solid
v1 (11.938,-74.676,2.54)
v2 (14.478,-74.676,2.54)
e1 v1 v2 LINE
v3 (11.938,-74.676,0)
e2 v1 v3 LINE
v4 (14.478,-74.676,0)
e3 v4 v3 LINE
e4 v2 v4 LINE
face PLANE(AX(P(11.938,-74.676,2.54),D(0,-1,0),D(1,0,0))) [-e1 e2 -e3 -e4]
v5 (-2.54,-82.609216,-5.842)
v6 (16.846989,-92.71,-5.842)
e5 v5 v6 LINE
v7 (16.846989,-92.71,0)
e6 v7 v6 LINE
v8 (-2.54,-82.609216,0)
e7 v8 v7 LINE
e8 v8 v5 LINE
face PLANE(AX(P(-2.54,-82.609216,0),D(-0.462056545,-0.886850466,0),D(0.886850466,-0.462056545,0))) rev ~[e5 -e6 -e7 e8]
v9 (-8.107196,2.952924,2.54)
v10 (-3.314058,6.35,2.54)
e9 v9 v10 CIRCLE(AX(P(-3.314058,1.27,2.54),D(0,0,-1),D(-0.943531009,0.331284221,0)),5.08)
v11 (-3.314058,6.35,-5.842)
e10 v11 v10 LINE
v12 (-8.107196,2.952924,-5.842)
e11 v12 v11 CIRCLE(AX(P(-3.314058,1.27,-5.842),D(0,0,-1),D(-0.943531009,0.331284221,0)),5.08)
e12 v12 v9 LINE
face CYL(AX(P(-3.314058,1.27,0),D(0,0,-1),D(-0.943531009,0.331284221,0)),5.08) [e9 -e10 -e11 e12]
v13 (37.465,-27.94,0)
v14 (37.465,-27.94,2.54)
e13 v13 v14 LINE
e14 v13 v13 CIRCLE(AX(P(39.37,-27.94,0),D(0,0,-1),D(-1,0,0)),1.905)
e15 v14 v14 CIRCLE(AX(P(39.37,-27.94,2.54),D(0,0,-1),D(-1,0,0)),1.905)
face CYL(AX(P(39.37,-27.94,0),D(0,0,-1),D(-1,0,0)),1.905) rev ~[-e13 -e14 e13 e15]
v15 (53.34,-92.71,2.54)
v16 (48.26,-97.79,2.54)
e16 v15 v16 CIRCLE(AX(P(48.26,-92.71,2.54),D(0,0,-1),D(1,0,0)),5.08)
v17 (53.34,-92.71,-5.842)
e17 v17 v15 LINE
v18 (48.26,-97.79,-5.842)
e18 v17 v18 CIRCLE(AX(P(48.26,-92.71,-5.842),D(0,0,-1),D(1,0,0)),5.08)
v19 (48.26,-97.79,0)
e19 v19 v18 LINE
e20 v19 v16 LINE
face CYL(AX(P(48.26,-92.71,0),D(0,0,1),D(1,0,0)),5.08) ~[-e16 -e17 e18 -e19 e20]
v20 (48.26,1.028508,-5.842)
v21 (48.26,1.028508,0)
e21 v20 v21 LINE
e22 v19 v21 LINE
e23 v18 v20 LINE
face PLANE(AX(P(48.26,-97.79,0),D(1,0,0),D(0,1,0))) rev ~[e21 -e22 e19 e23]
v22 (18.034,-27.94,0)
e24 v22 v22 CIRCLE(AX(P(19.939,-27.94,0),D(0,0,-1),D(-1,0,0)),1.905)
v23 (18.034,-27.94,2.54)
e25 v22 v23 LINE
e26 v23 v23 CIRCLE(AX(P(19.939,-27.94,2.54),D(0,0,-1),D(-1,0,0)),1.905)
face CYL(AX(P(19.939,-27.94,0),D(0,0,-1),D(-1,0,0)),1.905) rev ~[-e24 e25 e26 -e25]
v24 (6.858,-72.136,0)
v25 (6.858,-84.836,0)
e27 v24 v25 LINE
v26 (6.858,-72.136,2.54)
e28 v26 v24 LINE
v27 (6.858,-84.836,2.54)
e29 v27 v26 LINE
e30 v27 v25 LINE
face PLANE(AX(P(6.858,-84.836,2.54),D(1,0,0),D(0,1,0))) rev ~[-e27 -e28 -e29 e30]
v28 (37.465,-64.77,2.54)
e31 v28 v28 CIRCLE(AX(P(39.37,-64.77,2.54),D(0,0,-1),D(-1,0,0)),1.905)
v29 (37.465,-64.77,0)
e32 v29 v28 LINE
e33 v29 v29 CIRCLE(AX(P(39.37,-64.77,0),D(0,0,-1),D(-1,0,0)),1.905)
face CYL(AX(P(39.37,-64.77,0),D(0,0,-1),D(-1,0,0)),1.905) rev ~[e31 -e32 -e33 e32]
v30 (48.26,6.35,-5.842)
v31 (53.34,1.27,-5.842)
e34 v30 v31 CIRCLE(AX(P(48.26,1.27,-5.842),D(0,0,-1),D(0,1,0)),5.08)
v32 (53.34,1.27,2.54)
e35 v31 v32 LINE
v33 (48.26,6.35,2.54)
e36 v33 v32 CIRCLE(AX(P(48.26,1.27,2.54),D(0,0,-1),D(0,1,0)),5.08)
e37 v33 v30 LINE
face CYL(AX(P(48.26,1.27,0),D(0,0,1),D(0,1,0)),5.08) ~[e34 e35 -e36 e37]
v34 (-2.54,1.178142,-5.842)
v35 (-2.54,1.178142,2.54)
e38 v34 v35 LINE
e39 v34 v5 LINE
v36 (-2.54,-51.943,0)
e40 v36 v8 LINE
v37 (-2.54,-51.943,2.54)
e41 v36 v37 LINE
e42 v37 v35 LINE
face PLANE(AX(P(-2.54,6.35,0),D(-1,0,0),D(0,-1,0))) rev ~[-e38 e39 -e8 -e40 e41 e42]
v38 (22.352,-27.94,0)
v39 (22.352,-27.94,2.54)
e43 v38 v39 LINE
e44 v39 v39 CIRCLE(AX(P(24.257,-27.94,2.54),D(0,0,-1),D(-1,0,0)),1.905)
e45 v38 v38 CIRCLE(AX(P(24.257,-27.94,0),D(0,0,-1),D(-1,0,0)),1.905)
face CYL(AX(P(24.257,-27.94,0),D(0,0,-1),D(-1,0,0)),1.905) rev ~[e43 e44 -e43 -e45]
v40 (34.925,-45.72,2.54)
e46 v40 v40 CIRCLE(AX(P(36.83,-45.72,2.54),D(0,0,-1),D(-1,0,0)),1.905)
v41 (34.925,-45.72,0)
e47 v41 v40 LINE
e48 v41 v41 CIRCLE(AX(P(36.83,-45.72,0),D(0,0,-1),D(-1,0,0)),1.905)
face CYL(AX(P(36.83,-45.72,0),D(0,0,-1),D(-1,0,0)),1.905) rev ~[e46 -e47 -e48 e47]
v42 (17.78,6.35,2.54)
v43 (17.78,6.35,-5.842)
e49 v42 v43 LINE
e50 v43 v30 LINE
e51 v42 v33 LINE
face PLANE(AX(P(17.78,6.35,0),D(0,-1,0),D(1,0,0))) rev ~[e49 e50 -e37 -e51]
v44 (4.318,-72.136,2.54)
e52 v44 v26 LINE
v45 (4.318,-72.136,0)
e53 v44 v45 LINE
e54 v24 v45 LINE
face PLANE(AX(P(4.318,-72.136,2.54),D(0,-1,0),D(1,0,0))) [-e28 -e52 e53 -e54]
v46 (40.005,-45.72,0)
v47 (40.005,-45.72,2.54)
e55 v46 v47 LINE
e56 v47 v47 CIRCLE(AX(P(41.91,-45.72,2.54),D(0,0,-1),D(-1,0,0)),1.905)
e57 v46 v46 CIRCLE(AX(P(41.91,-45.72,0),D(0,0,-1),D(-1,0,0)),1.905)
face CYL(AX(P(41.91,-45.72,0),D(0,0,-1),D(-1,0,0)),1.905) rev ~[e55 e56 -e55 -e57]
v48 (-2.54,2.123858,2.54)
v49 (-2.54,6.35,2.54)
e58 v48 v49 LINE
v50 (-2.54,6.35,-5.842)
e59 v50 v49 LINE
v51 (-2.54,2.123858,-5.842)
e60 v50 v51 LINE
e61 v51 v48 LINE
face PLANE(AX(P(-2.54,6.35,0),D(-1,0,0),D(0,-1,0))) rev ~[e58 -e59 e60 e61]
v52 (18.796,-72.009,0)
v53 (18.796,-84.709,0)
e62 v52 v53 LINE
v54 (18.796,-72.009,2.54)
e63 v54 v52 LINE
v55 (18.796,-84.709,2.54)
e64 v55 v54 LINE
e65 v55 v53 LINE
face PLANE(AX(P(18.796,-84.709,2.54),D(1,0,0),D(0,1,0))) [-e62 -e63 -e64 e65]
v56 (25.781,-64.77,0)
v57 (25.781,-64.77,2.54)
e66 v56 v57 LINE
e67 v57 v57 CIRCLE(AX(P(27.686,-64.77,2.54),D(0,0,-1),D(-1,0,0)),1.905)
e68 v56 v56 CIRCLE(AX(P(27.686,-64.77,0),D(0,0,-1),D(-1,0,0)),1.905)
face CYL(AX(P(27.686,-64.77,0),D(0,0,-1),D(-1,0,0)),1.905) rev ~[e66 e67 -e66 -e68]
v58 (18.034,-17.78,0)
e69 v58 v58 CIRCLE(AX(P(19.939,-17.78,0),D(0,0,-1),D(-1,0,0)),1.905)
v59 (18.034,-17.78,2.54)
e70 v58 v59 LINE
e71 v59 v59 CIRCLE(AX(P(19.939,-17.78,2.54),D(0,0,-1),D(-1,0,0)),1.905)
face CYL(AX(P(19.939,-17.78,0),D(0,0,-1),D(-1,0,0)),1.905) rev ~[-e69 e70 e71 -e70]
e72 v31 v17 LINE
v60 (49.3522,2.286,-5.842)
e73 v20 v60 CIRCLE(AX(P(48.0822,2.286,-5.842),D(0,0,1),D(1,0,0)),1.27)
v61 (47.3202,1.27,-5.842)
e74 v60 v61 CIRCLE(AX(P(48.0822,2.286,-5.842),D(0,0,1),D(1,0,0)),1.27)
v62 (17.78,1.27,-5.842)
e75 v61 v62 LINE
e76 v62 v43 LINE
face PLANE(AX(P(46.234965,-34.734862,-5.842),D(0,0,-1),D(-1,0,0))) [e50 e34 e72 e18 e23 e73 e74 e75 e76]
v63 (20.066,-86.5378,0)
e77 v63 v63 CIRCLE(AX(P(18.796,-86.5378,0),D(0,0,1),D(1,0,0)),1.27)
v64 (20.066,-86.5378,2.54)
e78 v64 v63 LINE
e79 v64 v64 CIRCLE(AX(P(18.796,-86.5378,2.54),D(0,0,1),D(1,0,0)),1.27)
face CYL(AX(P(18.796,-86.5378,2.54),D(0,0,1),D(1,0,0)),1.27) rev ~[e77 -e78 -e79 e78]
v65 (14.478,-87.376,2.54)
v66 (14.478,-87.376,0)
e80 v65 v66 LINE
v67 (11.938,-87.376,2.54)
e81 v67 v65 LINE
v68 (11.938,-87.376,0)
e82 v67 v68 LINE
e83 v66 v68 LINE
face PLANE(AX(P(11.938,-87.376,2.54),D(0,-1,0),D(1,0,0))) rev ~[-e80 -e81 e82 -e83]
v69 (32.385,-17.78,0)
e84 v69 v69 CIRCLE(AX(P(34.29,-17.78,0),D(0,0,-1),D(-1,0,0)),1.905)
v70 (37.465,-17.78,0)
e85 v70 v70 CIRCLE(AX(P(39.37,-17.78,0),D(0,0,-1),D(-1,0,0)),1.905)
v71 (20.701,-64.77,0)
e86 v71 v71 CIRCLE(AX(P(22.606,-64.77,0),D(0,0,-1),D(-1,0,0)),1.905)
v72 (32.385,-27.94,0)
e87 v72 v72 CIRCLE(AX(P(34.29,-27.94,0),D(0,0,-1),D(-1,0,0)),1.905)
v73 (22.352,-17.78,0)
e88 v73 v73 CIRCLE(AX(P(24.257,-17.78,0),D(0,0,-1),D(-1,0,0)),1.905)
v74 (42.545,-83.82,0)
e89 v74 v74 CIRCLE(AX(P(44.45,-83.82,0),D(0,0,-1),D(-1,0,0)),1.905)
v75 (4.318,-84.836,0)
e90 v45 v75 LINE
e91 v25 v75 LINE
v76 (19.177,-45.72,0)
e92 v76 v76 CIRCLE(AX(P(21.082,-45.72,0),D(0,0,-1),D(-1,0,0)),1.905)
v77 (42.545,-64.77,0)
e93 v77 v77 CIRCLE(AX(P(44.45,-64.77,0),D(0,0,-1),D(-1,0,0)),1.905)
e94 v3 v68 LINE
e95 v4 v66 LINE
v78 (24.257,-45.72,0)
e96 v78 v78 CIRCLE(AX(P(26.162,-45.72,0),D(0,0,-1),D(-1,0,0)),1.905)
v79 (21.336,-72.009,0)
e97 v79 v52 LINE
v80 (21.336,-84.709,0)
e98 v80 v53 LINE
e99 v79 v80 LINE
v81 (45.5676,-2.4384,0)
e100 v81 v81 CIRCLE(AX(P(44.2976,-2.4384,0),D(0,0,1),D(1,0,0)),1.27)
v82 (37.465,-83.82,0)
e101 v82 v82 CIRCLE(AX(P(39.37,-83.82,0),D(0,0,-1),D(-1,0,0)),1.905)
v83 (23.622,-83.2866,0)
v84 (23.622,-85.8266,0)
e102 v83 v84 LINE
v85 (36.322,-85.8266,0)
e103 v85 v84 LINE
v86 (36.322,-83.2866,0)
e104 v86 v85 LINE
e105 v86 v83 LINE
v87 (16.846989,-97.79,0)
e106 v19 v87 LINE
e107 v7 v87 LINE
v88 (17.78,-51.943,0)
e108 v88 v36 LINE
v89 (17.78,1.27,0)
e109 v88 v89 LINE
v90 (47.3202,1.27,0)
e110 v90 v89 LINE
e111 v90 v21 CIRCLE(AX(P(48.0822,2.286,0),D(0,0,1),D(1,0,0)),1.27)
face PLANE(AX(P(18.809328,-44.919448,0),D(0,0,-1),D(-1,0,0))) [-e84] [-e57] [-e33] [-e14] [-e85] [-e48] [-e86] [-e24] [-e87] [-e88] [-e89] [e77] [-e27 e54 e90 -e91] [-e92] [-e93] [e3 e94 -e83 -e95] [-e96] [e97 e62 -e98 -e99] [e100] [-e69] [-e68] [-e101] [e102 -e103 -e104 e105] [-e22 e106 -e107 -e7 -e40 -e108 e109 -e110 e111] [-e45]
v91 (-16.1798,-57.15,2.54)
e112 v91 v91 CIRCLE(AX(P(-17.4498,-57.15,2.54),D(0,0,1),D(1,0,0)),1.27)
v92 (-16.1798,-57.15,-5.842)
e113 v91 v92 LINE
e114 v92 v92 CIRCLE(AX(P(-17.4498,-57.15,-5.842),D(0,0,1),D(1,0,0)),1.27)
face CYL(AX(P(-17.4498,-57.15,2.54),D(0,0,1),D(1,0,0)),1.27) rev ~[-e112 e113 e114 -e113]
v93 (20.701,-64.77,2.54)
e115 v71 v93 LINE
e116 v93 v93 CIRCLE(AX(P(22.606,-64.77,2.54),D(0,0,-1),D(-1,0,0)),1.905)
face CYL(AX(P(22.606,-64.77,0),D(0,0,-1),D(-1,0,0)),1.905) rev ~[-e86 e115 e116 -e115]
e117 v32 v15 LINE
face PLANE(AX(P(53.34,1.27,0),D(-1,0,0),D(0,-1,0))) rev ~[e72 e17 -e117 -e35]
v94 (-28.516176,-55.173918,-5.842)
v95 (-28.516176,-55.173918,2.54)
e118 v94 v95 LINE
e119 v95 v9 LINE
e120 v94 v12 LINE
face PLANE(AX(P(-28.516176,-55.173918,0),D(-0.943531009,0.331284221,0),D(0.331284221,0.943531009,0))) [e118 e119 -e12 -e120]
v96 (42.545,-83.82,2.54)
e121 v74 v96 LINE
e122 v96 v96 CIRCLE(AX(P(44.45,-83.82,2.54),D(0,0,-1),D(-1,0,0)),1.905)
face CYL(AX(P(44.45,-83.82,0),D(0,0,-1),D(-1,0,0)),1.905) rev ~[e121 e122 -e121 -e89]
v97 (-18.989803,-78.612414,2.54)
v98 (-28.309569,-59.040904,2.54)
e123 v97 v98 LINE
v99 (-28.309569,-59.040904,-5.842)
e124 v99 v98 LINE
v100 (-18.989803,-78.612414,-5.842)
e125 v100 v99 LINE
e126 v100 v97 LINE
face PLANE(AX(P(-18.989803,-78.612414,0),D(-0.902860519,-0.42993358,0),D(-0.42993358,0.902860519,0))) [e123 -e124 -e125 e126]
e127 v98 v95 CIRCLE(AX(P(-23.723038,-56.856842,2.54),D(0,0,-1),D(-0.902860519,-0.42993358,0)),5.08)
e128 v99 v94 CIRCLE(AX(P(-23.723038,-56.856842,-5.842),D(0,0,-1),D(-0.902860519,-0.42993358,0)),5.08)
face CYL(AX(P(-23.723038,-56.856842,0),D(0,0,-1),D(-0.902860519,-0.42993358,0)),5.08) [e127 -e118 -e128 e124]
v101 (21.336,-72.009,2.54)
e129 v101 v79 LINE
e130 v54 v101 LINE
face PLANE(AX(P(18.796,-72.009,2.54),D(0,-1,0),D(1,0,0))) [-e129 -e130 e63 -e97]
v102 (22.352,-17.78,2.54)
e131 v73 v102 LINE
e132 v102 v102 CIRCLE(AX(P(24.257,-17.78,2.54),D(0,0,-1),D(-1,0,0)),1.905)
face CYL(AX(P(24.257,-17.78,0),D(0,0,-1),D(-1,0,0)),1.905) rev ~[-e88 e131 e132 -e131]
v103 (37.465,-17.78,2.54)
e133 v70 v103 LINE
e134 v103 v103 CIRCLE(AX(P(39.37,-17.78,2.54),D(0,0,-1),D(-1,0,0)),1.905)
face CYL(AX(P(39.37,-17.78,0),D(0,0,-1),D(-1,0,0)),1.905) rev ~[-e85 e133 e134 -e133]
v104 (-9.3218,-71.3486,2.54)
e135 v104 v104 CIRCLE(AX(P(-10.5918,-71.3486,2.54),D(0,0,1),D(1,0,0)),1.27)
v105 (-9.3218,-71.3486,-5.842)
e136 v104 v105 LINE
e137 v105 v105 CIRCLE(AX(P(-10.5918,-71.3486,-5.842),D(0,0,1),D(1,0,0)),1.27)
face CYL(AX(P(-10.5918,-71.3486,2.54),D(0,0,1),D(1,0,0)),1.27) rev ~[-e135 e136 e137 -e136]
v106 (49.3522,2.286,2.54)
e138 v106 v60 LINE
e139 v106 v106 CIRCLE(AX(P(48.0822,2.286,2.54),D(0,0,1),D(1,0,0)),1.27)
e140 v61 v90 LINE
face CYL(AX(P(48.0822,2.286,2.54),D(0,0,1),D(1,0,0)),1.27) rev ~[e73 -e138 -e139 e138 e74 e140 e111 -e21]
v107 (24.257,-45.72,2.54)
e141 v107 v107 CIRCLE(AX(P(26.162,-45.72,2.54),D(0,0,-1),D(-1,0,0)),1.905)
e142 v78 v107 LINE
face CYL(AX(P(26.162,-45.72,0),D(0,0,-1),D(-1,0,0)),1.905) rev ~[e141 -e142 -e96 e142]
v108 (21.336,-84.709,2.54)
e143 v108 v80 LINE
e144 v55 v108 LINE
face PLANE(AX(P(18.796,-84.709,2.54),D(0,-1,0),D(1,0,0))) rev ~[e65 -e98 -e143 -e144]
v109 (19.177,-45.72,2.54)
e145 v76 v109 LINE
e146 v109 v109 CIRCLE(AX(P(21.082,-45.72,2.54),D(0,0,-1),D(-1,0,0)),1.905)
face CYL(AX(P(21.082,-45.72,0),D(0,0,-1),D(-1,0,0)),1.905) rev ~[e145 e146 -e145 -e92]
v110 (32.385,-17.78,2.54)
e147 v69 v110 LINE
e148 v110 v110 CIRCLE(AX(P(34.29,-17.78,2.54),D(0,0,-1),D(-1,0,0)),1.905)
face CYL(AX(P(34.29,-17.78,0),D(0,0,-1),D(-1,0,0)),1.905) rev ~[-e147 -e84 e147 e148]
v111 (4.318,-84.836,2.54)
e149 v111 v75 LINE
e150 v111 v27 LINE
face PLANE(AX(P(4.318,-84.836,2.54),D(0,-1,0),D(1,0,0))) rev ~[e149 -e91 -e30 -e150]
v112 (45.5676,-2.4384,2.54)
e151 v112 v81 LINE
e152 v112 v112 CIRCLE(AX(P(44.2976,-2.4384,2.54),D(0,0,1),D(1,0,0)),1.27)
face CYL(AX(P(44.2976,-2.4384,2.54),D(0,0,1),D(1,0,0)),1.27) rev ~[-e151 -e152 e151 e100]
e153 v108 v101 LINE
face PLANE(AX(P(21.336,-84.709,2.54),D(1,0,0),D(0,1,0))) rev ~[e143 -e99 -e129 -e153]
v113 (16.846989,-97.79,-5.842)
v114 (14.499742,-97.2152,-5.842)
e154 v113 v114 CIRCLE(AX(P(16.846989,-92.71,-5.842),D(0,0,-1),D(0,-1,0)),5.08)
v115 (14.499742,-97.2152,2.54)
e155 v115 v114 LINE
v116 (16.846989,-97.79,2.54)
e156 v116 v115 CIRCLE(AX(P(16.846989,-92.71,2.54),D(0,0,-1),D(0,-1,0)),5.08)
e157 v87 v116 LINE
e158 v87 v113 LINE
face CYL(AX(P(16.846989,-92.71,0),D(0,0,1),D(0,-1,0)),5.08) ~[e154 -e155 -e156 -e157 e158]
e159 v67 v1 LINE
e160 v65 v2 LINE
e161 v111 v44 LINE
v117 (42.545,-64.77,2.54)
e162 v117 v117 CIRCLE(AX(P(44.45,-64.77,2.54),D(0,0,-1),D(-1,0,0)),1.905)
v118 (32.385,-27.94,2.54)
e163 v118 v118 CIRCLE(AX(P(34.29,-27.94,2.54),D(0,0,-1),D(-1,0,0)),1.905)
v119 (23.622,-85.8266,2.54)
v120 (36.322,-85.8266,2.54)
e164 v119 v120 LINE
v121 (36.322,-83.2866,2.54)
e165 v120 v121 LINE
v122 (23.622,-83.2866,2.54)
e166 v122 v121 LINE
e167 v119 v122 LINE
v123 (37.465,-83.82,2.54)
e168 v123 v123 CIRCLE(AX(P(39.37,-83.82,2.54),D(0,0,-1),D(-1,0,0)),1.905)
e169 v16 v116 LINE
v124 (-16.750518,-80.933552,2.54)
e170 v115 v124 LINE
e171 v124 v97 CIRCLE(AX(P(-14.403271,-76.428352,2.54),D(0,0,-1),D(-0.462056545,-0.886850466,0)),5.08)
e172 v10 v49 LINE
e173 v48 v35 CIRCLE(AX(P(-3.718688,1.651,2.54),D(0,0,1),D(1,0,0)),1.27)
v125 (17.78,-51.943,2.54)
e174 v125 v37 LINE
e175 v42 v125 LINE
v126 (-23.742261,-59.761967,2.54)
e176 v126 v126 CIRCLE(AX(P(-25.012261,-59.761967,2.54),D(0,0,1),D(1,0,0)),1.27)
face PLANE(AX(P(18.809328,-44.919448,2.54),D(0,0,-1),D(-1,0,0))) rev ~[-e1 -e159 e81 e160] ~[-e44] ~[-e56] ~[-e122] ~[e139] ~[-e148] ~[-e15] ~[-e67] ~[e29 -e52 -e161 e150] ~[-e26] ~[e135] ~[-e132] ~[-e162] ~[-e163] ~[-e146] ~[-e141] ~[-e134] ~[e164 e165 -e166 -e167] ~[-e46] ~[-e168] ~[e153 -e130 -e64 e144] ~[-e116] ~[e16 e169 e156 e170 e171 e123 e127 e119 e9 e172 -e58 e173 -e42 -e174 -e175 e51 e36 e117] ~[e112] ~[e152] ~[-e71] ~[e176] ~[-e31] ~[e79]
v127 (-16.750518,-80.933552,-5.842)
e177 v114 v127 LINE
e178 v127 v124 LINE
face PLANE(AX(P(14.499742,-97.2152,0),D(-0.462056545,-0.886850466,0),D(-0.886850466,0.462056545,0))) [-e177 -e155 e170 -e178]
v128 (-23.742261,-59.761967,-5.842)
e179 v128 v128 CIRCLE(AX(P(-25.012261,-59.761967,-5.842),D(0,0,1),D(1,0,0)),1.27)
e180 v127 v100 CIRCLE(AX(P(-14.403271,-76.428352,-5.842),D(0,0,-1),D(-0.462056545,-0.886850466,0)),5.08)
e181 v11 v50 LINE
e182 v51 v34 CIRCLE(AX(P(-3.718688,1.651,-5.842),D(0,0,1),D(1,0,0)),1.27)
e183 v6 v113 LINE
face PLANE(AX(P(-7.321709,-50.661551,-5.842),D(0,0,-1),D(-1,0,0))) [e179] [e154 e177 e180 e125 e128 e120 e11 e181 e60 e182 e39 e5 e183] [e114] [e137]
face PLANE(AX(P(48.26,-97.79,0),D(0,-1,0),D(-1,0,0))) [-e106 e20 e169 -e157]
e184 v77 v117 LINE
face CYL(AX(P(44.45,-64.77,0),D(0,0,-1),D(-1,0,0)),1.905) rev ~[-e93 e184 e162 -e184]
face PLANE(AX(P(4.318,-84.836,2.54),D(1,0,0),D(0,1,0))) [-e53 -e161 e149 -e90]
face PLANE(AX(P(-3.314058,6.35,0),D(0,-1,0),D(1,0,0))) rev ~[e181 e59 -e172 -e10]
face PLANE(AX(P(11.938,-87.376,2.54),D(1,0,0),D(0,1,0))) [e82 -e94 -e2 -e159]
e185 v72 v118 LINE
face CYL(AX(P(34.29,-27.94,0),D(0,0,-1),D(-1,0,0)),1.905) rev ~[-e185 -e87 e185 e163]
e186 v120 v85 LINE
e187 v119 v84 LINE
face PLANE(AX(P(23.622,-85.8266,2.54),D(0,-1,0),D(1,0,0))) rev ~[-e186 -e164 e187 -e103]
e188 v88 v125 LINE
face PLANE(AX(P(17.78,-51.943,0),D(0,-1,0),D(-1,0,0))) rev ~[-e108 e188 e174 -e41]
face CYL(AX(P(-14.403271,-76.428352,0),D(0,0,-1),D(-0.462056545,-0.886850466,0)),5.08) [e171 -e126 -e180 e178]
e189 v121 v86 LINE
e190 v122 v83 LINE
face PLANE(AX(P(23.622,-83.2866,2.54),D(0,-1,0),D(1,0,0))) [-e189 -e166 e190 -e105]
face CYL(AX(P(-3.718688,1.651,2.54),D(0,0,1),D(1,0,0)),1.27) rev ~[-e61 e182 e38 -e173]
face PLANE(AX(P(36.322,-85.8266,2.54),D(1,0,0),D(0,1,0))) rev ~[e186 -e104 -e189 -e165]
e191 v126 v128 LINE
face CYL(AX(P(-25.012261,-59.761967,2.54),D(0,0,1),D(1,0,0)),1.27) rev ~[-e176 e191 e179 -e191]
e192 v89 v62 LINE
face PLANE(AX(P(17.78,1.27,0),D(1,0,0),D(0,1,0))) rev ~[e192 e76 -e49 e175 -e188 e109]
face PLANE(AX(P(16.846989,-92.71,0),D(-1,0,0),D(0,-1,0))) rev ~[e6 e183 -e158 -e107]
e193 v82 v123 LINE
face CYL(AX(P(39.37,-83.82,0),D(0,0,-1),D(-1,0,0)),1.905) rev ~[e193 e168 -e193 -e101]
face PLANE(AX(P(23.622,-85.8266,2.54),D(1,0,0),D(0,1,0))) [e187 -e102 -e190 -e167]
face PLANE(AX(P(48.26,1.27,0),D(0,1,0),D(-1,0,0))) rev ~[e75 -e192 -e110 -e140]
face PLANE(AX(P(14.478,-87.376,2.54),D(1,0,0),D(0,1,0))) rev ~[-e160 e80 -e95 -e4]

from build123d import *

# Parameters (mm, degrees)
BOSS_EXTRUDE1_DEPTH     = 2.54
SKETCH4_R               = 1.905
SKETCH4_W               = 20.32
SKETCH4_H               = 50.8
CUT_EXTRUDE2_DEPTH      = 25.4
SKETCH5_W               = 20.32
SKETCH5_H               = 7.493
CUT_EXTRUDE3_DEPTH      = 5.08
SKETCH8_W               = 12.7
SKETCH8_H               = 2.54
SKETCH8_W_2             = 2.54
SKETCH8_H_2             = 12.7
CUT_EXTRUDE5_DEPTH      = 5.08
BOSS_EXTRUDE2_DEPTH     = 5.842
SKETCH10_R              = 1.27
CUT_EXTRUDE6_DEPTH      = 1
CUT_EXTRUDE6_DEPTH_BACK = 9.382
SKETCH6_R               = 1.27
CUT_EXTRUDE7_DEPTH      = 1
CUT_EXTRUDE7_DEPTH_BACK = 9.382


with BuildPart() as part:
    # Sketch1 → Boss-Extrude1 (new body)
    with BuildSketch(Plane.XY):
        with BuildLine():
            Line((-3.314058103, 6.35), (48.26, 6.35))
            ThreePointArc((48.26, 6.35), (51.852102448, 4.862102448), (53.34, 1.27))
            Line((53.34, 1.27), (53.34, -92.71))
            ThreePointArc((53.34, -92.71), (51.852102448, -96.302102448), (48.26, -97.79))
            Line((48.26, -97.79), (16.846989059, -97.79))
            ThreePointArc((16.846989059, -97.79), (15.638688158, -97.644208035), (14.499741809, -97.215200367))
            Line((14.499741809, -97.215200367), (-16.7505185, -80.933552139))
            ThreePointArc((-16.7505185, -80.933552139), (-18.059258376, -79.955412607), (-18.989802686, -78.61241436))
            Line((-18.989802686, -78.61241436), (-28.309569459, -59.040904135))
            ThreePointArc((-28.309569459, -59.040904135), (-28.795802898, -57.127870198), (-28.51617555, -55.173917704))
            Line((-28.51617555, -55.173917704), (-8.107195629, 2.952923842))
            ThreePointArc((-8.107195629, 2.952923842), (-6.251501454, 5.414614163), (-3.314058103, 6.35))
        make_face()
    extrude(amount=BOSS_EXTRUDE1_DEPTH)

    # Sketch4 → Cut-Extrude2 (cut)
    with BuildSketch(Plane(origin=(0, 0, 0), x_dir=(-1, 0, 0), z_dir=(0, 0, -1))):
        with Locations((-39.37, -17.78)):
            Circle(SKETCH4_R)
        with Locations((-34.29, -17.78)):
            Circle(SKETCH4_R)
        with Locations((-39.37, -27.94)):
            Circle(SKETCH4_R)
        with Locations((-34.29, -27.94)):
            Circle(SKETCH4_R)
        with Locations((-41.91, -45.72)):
            Circle(SKETCH4_R)
        with Locations((-36.83, -45.72)):
            Circle(SKETCH4_R)
        with Locations((-44.45, -64.77)):
            Circle(SKETCH4_R)
        with Locations((-39.37, -64.77)):
            Circle(SKETCH4_R)
        with Locations((-44.45, -83.82)):
            Circle(SKETCH4_R)
        with Locations((-39.37, -83.82)):
            Circle(SKETCH4_R)
        with Locations((-24.257, -17.78)):
            Circle(SKETCH4_R)
        with Locations((-19.939, -17.78)):
            Circle(SKETCH4_R)
        with Locations((-24.257, -27.94)):
            Circle(SKETCH4_R)
        with Locations((-19.939, -27.94)):
            Circle(SKETCH4_R)
        with Locations((-26.162, -45.72)):
            Circle(SKETCH4_R)
        with Locations((-21.082, -45.72)):
            Circle(SKETCH4_R)
        with Locations((-27.686, -64.77)):
            Circle(SKETCH4_R)
        with Locations((-22.606, -64.77)):
            Circle(SKETCH4_R)
        with Locations((-7.62, -26.543)):
            Rectangle(SKETCH4_W, SKETCH4_H)
    extrude(amount=-CUT_EXTRUDE2_DEPTH, mode=Mode.SUBTRACT)

    # Sketch5 → Cut-Extrude3 (cut)
    with BuildSketch(Plane.XY.offset(2.54)):
        with Locations((7.62, 2.6035)):
            Rectangle(SKETCH5_W, SKETCH5_H)
    extrude(amount=-CUT_EXTRUDE3_DEPTH, mode=Mode.SUBTRACT)

    # Sketch8 → Cut-Extrude5 (cut)
    with BuildSketch(Plane.XY.offset(2.54)):
        with Locations((29.972, -84.5566)):
            Rectangle(SKETCH8_W, SKETCH8_H)
        with Locations((20.066, -78.359)):
            Rectangle(SKETCH8_W_2, SKETCH8_H_2)
        with Locations((13.208, -81.026)):
            Rectangle(SKETCH8_W_2, SKETCH8_H_2)
        with Locations((5.588, -78.486)):
            Rectangle(SKETCH8_W_2, SKETCH8_H_2)
    extrude(amount=-CUT_EXTRUDE5_DEPTH, mode=Mode.SUBTRACT)

    # Sketch9 → Boss-Extrude2 (add)
    with BuildSketch(Plane(origin=(0, 0, 0), x_dir=(-1, 0, 0), z_dir=(0, 0, -1))):
        with BuildLine():
            Line((-48.26, -97.79), (-48.26, 1.27))
            Line((-48.26, 1.27), (-17.78, 1.27))
            Line((-17.78, 1.27), (-17.78, 6.35))
            Line((-17.78, 6.35), (-48.26, 6.35))
            ThreePointArc((-48.26, 6.35), (-51.852102448, 4.862102448), (-53.34, 1.27))
            Line((-53.34, 1.27), (-53.34, -92.71))
            ThreePointArc((-53.34, -92.71), (-51.852102448, -96.302102448), (-48.26, -97.79))
        make_face()
        with BuildLine():
            Line((2.54, 0.820424909), (2.54, -82.609215784))
            Line((2.54, -82.609215784), (-16.846989059, -92.71))
            Line((-16.846989059, -92.71), (-16.846989059, -97.79))
            ThreePointArc((-16.846989059, -97.79), (-15.638688158, -97.644208035), (-14.499741809, -97.215200367))
            Line((-14.499741809, -97.215200367), (16.7505185, -80.933552139))
            ThreePointArc((16.7505185, -80.933552139), (18.059258376, -79.955412607), (18.989802686, -78.61241436))
            Line((18.989802686, -78.61241436), (28.309569459, -59.040904135))
            ThreePointArc((28.309569459, -59.040904135), (28.795802898, -57.127870198), (28.51617555, -55.173917704))
            Line((28.51617555, -55.173917704), (8.107195629, 2.952923842))
            ThreePointArc((8.107195629, 2.952923842), (6.251501454, 5.414614163), (3.314058103, 6.35))
            Line((3.314058103, 6.35), (2.54, 6.35))
            Line((2.54, 6.35), (2.54, 0.820424909))
        make_face()
    extrude(amount=BOSS_EXTRUDE2_DEPTH)

    # Sketch10 → Cut-Extrude6 (cut, two sides)
    with BuildSketch(Plane.XY.offset(2.54)) as cut_extrude6_sk:
        with Locations((48.0822, 2.286)):
            Circle(SKETCH10_R)
        with Locations((-3.718687848, 1.651)):
            Circle(SKETCH10_R)
        with Locations((-25.012261453, -59.761967182)):
            Circle(SKETCH10_R)
    extrude(amount=CUT_EXTRUDE6_DEPTH, mode=Mode.SUBTRACT)
    extrude(cut_extrude6_sk.sketch, amount=-CUT_EXTRUDE6_DEPTH_BACK, mode=Mode.SUBTRACT)

    # Sketch6 → Cut-Extrude7 (cut, two sides)
    with BuildSketch(Plane.XY.offset(2.54)) as cut_extrude7_sk:
        with Locations((1.6002, -2.4384)):
            Circle(SKETCH6_R)
        with Locations((44.2976, -2.4384)):
            Circle(SKETCH6_R)
        with Locations((-17.4498, -57.15)):
            Circle(SKETCH6_R)
        with Locations((-10.5918, -71.3486)):
            Circle(SKETCH6_R)
        with Locations((18.796, -86.5378)):
            Circle(SKETCH6_R)
    extrude(amount=CUT_EXTRUDE7_DEPTH, mode=Mode.SUBTRACT)
    extrude(cut_extrude7_sk.sketch, amount=-CUT_EXTRUDE7_DEPTH_BACK, mode=Mode.SUBTRACT)


solid = part.part
